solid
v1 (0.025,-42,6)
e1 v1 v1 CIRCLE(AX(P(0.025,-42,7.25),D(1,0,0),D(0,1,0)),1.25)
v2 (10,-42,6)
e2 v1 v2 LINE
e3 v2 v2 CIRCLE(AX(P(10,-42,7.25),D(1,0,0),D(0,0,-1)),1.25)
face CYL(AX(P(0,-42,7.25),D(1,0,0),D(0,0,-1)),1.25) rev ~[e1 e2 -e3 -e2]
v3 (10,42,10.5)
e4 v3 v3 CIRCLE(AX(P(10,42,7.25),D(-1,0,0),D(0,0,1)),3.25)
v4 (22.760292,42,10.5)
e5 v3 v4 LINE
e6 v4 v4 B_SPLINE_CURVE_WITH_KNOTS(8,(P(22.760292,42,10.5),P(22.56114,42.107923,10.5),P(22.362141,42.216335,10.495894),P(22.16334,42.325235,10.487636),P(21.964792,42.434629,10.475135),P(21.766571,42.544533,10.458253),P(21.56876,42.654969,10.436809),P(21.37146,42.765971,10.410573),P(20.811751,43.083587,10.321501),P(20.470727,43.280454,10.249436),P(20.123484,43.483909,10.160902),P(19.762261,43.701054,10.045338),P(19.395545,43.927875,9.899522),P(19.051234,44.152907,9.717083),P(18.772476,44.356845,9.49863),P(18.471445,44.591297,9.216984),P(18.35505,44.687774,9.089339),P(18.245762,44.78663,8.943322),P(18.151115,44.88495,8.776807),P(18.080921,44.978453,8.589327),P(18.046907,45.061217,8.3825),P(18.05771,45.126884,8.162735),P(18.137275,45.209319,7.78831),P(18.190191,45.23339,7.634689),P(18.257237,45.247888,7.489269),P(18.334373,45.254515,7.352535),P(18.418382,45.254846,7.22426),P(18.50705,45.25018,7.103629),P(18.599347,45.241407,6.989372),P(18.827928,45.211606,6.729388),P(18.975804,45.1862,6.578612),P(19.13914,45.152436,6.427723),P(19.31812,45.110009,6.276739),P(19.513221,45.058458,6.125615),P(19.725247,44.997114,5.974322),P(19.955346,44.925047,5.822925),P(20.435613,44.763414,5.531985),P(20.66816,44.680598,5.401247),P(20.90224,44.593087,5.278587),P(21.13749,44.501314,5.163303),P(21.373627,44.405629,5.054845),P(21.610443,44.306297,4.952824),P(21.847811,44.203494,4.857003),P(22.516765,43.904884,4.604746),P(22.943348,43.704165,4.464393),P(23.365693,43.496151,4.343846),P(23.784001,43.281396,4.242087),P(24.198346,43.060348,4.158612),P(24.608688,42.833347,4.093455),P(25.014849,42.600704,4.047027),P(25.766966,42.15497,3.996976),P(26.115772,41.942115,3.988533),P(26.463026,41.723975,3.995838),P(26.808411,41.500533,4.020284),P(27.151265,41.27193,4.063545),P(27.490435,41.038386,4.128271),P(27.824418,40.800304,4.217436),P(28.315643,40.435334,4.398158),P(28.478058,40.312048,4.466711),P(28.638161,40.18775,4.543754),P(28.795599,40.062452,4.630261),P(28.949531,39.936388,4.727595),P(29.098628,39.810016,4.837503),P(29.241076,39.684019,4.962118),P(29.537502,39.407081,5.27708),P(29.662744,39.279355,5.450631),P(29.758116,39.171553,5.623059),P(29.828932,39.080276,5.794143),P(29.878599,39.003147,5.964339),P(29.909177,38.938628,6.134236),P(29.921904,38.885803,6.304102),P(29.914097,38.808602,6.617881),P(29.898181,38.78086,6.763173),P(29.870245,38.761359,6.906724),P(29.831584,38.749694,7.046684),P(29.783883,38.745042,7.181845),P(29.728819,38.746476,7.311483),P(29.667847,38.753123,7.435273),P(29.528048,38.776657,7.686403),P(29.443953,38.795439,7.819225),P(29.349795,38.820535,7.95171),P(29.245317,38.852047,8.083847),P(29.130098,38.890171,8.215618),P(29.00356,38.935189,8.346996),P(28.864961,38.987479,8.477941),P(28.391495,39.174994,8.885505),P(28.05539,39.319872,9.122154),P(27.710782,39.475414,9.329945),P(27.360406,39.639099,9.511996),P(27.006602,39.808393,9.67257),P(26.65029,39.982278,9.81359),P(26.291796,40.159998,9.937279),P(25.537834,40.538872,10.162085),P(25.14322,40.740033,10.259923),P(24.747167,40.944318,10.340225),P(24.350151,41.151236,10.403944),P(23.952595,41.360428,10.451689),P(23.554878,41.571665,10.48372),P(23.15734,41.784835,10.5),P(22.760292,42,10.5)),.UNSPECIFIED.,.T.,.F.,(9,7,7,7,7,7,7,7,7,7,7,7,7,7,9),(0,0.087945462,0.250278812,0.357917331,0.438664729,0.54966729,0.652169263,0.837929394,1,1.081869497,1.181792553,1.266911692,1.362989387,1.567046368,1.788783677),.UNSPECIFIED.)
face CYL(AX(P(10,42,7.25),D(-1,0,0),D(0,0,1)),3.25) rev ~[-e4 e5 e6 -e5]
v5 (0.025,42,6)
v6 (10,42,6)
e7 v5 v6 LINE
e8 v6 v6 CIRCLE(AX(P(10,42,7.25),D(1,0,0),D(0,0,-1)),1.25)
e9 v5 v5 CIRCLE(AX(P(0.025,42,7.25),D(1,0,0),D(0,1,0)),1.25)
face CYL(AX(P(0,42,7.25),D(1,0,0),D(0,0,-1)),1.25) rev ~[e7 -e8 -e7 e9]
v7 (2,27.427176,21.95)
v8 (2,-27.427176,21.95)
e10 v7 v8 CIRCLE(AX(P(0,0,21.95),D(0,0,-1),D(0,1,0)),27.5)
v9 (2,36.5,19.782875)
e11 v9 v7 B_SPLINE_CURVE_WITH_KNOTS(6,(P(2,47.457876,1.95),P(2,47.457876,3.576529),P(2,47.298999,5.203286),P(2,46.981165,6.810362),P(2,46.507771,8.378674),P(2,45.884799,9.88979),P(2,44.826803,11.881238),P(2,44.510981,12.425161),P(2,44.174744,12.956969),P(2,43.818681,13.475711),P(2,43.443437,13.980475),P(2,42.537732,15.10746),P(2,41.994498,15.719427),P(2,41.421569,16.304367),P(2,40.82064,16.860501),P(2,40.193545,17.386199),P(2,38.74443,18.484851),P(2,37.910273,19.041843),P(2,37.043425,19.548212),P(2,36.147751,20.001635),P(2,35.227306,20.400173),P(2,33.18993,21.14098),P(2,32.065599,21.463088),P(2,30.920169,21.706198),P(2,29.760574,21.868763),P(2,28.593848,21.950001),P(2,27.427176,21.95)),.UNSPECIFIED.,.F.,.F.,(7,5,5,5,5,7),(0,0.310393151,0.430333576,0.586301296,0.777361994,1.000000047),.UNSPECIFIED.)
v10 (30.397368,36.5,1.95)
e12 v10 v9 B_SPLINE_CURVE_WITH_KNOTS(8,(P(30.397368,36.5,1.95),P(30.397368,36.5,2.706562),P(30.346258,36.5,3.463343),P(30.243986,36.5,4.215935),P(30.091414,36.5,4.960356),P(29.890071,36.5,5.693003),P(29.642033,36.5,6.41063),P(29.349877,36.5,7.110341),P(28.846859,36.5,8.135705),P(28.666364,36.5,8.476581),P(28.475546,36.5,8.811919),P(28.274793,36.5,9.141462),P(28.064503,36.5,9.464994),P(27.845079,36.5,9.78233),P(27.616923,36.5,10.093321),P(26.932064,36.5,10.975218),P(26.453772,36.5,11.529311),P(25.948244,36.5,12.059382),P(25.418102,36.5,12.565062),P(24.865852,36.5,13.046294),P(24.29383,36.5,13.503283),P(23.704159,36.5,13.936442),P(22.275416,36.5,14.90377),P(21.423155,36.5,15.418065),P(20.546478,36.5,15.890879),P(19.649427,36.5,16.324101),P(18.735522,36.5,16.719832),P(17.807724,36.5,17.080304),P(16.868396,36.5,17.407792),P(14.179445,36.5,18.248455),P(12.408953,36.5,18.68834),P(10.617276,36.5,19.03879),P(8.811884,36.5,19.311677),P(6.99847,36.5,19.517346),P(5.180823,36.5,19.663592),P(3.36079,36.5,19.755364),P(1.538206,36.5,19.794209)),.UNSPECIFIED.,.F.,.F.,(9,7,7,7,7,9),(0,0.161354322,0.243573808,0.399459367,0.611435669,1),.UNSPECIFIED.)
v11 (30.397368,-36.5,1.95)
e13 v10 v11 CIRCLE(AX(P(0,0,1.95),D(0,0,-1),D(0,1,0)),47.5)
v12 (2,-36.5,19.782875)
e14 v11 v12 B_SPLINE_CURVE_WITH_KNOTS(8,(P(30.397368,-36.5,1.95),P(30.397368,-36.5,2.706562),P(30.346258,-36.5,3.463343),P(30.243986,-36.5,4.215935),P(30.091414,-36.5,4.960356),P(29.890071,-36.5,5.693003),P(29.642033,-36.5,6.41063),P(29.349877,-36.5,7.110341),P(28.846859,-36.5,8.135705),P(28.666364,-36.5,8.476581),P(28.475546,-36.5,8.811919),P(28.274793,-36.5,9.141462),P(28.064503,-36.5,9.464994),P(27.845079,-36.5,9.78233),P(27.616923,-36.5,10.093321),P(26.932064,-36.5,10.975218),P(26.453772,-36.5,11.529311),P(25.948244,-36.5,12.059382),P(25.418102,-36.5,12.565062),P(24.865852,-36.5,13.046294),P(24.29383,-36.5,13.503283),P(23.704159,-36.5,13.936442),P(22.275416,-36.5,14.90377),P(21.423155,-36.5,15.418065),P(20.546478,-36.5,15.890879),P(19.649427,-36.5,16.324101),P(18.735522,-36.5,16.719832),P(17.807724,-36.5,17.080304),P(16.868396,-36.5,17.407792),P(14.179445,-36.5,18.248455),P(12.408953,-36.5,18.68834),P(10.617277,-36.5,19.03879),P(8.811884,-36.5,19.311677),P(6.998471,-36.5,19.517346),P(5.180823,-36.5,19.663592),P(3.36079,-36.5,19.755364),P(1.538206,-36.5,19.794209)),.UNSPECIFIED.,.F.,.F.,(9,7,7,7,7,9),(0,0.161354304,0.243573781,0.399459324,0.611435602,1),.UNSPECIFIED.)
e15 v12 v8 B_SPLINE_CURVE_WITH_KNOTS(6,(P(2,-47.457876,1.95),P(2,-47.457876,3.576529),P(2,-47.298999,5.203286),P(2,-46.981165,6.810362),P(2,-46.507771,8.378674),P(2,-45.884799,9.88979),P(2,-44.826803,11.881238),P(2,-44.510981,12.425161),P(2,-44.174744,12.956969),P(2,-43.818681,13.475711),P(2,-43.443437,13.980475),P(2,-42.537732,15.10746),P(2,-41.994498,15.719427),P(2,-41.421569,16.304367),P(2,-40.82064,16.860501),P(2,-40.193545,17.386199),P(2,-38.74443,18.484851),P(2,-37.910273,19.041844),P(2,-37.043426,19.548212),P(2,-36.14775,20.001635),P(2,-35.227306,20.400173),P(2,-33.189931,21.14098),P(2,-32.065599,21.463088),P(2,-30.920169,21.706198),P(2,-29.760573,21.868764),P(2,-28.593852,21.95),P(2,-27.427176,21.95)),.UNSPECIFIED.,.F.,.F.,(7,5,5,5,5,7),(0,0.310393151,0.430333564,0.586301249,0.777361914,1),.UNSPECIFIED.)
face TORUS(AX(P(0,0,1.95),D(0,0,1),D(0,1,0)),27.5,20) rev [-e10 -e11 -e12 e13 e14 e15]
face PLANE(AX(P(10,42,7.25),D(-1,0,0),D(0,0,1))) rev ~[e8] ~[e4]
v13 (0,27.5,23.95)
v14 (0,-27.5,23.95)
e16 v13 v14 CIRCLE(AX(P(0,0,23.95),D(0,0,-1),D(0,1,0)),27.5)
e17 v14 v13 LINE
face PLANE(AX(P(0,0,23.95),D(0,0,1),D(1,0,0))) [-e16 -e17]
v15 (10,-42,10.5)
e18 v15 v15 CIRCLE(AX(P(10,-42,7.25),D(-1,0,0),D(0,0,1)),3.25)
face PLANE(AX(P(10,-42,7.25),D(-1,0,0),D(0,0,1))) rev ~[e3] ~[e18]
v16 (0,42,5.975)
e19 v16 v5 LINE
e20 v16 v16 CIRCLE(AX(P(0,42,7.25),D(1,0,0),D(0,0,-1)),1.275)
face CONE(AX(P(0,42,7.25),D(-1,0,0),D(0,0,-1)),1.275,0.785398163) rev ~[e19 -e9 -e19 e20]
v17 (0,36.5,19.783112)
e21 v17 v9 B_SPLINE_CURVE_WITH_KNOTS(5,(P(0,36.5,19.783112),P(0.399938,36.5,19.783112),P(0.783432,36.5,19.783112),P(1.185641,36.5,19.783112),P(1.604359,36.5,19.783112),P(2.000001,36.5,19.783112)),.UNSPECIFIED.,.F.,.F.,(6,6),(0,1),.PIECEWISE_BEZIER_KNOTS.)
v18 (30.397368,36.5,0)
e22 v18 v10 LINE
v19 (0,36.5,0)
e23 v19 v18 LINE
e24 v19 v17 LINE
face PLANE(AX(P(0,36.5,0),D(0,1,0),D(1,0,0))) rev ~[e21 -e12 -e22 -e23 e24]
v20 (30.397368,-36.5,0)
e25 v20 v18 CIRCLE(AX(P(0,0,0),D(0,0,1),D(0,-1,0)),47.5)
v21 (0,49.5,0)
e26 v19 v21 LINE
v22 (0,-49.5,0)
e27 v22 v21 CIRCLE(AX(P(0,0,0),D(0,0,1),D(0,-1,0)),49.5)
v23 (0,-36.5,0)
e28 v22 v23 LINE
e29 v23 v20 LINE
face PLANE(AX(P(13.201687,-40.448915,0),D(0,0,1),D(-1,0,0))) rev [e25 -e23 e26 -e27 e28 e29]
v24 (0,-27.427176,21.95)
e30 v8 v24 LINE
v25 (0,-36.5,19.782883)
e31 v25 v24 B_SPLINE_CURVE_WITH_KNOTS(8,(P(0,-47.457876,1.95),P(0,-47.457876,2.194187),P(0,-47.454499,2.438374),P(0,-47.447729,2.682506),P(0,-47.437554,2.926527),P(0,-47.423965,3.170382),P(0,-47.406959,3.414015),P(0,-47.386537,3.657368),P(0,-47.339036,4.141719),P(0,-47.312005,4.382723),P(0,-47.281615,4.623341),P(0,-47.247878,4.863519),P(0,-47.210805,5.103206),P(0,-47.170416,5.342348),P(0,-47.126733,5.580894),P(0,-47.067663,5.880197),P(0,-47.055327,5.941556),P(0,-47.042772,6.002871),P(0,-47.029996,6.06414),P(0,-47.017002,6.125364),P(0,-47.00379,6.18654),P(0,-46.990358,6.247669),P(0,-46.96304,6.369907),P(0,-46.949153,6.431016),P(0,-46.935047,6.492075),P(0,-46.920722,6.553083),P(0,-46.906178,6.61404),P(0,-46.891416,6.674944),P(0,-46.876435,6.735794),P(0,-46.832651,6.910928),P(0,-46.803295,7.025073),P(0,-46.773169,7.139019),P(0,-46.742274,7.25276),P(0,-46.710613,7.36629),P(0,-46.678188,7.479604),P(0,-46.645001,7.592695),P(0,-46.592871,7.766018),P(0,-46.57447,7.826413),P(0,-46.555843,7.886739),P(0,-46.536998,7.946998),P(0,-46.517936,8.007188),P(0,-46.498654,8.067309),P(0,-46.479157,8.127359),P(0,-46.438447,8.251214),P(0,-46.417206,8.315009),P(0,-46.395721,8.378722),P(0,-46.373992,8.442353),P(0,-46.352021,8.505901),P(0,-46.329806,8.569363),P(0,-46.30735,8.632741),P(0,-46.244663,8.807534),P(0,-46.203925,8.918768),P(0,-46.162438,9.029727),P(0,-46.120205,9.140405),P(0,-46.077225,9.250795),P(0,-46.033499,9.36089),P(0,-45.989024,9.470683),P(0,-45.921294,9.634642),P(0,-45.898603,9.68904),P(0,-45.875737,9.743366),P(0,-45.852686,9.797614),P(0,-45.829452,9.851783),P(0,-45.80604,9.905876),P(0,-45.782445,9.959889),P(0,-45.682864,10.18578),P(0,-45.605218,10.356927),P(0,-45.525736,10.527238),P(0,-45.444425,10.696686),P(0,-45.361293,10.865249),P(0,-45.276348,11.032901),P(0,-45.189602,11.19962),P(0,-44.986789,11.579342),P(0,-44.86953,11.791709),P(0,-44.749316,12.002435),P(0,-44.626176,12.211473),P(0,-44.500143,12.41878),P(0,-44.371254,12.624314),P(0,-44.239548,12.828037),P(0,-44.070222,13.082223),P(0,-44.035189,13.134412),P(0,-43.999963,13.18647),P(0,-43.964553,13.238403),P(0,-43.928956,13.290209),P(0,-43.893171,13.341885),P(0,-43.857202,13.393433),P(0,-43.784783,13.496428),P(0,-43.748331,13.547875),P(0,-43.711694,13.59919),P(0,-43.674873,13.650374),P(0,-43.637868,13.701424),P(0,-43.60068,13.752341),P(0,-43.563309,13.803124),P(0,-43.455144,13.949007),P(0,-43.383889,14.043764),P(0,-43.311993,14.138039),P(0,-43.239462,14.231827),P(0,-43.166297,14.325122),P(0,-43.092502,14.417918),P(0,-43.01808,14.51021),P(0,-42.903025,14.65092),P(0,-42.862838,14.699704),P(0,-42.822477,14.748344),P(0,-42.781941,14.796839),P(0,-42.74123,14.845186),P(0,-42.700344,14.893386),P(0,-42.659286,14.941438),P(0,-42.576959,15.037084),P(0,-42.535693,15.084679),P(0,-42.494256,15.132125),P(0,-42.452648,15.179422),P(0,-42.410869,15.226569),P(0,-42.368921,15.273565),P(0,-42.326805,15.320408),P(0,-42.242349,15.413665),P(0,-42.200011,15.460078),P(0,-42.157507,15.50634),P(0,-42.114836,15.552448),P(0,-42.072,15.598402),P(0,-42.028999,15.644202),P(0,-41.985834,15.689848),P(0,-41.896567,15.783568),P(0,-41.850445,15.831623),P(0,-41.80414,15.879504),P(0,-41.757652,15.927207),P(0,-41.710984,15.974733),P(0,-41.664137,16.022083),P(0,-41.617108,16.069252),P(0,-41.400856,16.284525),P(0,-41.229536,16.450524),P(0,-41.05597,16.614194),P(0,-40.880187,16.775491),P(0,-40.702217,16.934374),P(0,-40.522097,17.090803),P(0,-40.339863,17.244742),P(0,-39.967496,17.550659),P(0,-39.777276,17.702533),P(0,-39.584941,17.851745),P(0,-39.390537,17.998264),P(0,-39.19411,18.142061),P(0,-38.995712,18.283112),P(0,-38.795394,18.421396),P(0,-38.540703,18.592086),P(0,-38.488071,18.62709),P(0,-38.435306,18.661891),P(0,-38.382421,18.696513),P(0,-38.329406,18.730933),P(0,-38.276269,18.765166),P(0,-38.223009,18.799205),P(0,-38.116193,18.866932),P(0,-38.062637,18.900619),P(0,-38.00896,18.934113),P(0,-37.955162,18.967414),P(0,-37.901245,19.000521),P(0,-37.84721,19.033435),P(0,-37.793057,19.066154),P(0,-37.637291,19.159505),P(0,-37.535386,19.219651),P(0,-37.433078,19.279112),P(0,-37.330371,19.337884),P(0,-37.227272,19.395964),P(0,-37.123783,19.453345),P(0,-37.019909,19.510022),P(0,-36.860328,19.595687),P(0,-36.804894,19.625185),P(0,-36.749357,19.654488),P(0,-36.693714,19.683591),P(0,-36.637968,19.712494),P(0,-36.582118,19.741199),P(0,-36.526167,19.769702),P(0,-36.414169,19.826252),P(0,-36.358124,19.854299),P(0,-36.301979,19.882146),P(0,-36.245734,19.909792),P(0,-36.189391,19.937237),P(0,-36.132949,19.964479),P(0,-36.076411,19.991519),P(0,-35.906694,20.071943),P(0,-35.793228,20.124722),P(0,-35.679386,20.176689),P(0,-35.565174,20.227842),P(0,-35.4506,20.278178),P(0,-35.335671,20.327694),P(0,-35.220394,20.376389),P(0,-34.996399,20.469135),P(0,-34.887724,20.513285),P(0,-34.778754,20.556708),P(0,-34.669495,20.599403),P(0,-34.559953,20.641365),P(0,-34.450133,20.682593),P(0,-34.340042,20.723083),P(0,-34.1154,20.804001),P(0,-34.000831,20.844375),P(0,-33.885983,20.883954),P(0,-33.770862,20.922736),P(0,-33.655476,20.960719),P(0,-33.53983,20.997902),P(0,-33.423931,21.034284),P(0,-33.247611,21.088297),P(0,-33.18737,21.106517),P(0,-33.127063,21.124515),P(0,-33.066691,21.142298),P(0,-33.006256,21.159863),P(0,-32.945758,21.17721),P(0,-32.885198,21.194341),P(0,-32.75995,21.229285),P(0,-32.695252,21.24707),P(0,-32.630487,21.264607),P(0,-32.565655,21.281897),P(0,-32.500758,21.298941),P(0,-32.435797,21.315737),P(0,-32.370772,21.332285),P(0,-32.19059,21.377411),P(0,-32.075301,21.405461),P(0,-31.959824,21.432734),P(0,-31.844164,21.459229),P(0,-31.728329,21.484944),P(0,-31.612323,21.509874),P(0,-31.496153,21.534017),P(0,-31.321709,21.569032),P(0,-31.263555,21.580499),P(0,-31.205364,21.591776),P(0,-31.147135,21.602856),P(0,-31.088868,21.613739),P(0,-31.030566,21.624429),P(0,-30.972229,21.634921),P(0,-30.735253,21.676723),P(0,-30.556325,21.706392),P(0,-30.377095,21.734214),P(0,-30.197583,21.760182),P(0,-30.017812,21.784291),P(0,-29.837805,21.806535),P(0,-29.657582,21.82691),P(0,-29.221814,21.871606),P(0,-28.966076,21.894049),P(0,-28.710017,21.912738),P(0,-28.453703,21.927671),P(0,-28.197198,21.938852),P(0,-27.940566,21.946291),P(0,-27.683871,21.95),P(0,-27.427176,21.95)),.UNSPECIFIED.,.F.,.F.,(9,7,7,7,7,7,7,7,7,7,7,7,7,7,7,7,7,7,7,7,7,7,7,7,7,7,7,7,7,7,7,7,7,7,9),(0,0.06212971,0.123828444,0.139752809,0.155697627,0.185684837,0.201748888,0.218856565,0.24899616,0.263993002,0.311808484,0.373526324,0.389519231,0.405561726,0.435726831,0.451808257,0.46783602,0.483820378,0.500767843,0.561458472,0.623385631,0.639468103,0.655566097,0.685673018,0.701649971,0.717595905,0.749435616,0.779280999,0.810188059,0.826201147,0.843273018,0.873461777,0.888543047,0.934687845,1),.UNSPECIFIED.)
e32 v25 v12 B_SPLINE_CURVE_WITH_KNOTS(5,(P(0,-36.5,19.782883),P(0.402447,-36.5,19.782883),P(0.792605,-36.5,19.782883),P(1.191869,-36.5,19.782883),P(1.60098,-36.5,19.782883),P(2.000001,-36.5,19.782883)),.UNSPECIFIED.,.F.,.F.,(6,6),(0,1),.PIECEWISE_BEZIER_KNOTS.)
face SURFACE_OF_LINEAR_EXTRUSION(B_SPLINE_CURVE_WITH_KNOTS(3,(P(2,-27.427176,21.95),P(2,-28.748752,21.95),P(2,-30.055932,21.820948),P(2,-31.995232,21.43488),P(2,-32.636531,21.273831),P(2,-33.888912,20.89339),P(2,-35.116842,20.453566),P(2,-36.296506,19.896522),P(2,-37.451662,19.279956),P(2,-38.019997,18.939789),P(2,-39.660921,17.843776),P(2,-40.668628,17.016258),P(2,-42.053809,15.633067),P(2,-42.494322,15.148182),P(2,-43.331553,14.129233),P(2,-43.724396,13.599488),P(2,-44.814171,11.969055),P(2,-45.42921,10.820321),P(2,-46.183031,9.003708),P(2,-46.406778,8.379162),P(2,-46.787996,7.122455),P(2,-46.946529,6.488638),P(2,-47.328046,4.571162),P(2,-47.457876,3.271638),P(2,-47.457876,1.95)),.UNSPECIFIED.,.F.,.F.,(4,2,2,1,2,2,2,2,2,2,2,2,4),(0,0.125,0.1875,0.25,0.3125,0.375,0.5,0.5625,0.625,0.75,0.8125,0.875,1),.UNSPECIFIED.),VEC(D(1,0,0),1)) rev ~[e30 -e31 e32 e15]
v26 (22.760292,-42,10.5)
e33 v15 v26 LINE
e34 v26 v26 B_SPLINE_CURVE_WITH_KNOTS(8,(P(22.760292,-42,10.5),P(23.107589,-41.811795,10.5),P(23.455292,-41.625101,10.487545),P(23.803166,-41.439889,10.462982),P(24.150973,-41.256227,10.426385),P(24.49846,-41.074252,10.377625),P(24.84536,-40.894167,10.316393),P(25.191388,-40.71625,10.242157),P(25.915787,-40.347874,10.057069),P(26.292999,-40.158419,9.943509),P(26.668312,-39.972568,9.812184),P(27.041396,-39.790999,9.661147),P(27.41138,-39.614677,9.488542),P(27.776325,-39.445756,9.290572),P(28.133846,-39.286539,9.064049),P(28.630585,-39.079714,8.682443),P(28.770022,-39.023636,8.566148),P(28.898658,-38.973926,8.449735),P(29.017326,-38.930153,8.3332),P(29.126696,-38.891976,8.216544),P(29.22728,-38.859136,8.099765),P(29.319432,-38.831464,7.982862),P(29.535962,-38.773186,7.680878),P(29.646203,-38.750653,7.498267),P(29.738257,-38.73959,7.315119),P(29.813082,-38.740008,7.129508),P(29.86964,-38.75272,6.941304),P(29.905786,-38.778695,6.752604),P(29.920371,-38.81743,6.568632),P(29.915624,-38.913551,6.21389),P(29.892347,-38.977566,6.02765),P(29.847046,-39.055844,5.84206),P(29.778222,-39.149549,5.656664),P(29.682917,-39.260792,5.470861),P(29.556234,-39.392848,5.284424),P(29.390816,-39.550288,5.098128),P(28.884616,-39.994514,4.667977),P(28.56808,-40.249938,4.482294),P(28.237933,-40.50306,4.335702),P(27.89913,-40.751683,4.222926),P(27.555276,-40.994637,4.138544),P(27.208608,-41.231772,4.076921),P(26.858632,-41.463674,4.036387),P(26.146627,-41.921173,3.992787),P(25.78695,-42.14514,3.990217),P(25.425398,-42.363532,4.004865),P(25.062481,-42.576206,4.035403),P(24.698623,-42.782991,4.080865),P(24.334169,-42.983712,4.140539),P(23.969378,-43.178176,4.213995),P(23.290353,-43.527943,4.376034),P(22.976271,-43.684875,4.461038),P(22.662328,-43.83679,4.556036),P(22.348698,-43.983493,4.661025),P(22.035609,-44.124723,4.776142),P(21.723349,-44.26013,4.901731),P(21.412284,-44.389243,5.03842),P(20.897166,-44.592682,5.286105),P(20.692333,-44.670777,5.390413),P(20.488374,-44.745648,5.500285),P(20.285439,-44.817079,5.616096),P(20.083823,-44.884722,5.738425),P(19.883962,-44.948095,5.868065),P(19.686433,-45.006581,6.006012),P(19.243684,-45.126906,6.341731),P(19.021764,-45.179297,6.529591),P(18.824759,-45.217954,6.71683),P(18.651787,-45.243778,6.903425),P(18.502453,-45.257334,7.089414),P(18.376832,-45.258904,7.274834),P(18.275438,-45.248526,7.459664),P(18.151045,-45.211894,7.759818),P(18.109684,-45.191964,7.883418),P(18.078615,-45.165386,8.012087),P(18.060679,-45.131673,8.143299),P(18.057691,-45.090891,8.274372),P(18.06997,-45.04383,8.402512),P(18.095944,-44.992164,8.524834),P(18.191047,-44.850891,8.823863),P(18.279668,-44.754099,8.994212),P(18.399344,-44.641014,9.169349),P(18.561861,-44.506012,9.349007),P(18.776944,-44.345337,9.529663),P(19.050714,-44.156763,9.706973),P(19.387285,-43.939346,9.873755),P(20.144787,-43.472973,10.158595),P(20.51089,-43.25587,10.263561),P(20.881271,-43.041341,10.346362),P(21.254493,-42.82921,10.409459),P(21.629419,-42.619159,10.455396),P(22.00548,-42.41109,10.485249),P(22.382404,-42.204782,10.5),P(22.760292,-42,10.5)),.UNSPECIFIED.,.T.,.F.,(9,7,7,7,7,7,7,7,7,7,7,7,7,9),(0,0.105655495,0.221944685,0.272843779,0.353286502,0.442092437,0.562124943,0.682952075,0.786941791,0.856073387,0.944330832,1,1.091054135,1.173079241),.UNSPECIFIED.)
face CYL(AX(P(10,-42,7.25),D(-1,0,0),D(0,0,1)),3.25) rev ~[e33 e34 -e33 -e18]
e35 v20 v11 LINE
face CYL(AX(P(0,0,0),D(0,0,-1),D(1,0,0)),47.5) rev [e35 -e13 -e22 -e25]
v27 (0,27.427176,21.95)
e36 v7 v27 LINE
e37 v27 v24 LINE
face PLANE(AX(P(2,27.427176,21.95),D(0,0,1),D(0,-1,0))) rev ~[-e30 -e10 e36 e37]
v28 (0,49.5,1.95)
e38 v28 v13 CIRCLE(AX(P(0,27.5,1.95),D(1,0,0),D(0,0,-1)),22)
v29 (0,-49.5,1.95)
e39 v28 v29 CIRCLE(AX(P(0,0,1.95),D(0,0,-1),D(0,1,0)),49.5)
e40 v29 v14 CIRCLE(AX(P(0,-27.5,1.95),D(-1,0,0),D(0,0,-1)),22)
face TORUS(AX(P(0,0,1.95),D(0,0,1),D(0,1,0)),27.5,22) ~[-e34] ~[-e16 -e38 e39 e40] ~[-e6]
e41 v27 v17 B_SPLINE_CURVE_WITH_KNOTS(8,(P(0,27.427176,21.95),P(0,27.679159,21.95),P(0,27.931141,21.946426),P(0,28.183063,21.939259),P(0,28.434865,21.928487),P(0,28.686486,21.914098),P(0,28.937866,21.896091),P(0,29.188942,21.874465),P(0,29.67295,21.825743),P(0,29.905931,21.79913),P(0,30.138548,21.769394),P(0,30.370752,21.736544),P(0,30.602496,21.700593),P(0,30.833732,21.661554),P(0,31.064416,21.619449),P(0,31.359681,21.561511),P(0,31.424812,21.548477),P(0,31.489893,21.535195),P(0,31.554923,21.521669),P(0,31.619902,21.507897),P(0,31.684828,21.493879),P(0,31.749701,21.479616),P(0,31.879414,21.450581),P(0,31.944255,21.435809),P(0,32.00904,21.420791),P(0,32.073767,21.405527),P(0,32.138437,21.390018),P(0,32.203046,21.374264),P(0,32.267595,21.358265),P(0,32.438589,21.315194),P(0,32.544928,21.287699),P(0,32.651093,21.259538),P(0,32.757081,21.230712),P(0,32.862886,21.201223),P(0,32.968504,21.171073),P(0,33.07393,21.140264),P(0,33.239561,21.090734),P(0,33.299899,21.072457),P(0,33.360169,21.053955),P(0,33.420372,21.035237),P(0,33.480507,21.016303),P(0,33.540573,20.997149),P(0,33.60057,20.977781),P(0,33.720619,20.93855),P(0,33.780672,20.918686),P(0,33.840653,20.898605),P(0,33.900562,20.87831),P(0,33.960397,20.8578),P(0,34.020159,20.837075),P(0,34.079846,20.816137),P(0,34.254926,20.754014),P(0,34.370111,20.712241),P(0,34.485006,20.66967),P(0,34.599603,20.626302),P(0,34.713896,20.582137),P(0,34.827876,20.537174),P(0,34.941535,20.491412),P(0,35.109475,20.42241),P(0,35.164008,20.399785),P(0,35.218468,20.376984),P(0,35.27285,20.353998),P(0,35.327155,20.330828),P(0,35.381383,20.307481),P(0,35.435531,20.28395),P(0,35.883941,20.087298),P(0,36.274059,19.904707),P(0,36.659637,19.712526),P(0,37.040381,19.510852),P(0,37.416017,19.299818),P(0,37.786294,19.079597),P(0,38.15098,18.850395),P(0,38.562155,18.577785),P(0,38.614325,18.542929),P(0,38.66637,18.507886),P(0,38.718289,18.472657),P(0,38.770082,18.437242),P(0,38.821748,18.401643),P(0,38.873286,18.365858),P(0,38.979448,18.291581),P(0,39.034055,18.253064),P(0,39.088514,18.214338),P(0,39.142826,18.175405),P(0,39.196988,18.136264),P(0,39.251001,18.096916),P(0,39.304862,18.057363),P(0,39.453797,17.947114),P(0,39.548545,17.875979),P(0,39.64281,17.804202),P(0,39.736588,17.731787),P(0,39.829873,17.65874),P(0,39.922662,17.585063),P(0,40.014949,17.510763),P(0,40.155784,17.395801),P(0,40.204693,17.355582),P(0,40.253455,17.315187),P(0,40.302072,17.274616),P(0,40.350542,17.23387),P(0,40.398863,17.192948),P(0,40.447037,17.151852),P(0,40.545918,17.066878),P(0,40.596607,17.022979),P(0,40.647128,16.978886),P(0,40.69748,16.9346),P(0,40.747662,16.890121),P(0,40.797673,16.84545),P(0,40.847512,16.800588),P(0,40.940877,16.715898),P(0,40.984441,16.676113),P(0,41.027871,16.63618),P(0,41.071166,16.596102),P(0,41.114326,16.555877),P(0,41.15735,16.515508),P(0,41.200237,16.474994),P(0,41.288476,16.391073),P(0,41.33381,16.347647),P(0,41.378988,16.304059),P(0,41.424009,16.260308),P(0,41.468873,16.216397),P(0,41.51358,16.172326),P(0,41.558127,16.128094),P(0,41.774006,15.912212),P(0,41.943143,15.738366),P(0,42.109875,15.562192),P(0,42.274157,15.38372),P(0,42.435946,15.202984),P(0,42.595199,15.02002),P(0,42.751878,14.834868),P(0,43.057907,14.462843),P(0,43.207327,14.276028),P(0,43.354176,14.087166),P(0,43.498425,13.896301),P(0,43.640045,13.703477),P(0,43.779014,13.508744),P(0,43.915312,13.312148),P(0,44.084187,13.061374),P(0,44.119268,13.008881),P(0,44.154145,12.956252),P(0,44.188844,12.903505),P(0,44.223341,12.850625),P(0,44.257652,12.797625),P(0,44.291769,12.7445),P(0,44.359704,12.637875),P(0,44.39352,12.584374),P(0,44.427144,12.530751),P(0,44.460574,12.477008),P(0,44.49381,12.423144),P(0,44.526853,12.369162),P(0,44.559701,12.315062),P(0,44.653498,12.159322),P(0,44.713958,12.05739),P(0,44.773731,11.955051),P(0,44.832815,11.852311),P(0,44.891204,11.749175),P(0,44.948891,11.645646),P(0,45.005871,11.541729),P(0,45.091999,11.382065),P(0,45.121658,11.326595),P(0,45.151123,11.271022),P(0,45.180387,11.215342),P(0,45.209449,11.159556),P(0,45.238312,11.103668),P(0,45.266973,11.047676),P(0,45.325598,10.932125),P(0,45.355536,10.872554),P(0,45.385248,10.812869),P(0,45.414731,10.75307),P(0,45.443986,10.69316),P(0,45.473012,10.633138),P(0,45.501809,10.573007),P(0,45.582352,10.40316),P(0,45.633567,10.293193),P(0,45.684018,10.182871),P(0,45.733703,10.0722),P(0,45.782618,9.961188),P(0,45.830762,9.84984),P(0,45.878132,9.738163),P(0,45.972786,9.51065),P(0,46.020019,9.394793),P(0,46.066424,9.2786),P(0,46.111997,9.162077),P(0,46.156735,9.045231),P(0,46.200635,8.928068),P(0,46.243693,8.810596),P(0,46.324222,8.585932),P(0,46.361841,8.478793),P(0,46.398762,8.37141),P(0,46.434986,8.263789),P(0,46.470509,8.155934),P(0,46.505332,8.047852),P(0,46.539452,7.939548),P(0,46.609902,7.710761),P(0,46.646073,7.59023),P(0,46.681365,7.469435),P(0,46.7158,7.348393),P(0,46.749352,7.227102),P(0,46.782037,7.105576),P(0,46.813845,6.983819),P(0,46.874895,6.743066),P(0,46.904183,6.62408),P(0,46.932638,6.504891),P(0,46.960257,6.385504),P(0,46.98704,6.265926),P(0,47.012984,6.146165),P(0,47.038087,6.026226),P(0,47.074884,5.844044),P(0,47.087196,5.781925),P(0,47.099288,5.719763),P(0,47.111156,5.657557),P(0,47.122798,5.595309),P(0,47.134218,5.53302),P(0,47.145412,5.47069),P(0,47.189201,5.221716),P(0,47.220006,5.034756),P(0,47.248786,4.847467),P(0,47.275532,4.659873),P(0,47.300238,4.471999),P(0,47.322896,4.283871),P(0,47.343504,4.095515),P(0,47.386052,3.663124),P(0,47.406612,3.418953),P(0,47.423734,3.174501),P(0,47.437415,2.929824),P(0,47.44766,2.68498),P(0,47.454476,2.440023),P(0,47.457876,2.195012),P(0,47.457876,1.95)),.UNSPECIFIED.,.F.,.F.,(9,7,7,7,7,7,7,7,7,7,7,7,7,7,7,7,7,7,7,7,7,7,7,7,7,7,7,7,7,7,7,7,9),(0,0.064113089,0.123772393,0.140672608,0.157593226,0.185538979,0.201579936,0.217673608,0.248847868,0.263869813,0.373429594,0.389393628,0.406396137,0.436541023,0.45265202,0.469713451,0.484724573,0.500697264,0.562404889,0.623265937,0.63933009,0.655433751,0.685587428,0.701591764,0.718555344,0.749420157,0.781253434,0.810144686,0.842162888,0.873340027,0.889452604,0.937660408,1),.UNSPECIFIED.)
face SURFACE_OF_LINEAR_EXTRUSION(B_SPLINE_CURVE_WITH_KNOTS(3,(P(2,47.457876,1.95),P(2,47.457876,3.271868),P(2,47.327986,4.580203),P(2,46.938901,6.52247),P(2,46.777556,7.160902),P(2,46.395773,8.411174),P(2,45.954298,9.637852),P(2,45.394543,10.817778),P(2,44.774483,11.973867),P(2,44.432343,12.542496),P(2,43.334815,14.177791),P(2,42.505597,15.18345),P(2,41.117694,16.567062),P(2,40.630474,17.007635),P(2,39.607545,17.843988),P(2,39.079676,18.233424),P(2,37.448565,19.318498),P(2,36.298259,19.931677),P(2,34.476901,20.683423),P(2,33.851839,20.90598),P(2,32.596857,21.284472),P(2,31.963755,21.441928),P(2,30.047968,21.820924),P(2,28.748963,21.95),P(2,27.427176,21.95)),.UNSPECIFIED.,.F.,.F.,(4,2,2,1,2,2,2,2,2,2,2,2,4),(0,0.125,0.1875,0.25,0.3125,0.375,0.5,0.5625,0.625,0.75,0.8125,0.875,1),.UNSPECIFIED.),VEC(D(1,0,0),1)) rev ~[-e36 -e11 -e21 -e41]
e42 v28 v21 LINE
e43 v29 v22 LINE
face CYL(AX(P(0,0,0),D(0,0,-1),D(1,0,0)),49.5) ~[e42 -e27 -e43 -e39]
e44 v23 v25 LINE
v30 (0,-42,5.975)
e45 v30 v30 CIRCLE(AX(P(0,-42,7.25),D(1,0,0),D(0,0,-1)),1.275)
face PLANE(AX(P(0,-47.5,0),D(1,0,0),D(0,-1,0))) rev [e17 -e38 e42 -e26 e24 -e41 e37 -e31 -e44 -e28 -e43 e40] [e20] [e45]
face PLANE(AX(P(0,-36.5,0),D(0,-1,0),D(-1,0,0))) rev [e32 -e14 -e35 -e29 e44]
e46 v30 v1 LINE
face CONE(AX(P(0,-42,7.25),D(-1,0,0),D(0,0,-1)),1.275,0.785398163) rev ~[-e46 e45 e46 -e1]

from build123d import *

# Parameters (mm, degrees)
SKETCH_1_R                     = 49.5
EXTRUDE_1_DEPTH                = 23.95
CUT_EXTRUDE_1_REACH            = 75.987
SKETCH_2_W                     = 51.856446696
SKETCH_2_H                     = 105.629558774
FILLET_1_R                     = 22
SHELL_1_T                      = -2
CUT_EXTRUDE_2_REACH            = 74.664
EXTRUDE_2_REACH                = 75.987
HOLE_WIZARD_M3_1_D             = 2.5
HOLE_WIZARD_M3_1_CSINK_D       = 2.55
HOLE_WIZARD_M3_1_CSINK_ANGLE   = 90
CUT_EXTRUDE_3_REACH            = 85.987
CUT_EXTRUDE_3_END_MAJOR_RADIUS = 27.5
CUT_EXTRUDE_3_END_MINOR_RADIUS = 22
CUT_EXTRUDE_START              = -10
SKETCH_9_R                     = 3.25


with BuildPart() as part:
    # 草图1 → 凸台-拉伸1 (new body)
    with BuildSketch(Plane.XY):
        Circle(SKETCH_1_R)
    extrude(amount=EXTRUDE_1_DEPTH)

    # 草图2 → 切除-拉伸1 (cut, up to next)
    with BuildSketch(Plane.XY, mode=Mode.PRIVATE) as cut_extrude_1_sk1:
        with Locations((-25.928223348, -1.331017626)):
            Rectangle(SKETCH_2_W, SKETCH_2_H)
    cut_extrude_1_tool1 = extrude(cut_extrude_1_sk1.sketch, amount=CUT_EXTRUDE_1_REACH, mode=Mode.PRIVATE) & part.part
    add(cut_extrude_1_tool1.solids().sort_by_distance((-25.928223, -1.331018, 0))[0], mode=Mode.SUBTRACT)

    # 圆角1
    fillet_1_edges = [part.edges().sort_by_distance(p)[0] for p in [
        (49.5, 0, 23.95),
    ]]
    fillet(fillet_1_edges, radius=FILLET_1_R)

    # 抽壳1
    shell_1_openings = [part.faces().sort_by_distance(p)[0] for p in [
        (21.008452488, 0, 0),
    ]]
    offset(amount=SHELL_1_T, openings=shell_1_openings)

    # 草图3 → 切除-拉伸2 (cut, up to next)
    with BuildSketch(Plane(origin=(2, 0, 0), x_dir=(0, 0, -1), z_dir=(1, 0, 0)), mode=Mode.PRIVATE) as cut_extrude_2_sk1:
        with BuildLine():
            Line((0, -47.457876059), (0, 47.457876059))
            Line((0, 47.457876059), (-1.95, 47.457876059))
            add(Edge.make_bspline(
                [(-1.95, 47.457876059), (-3.271867558, 47.457876059), (-4.580203295, 47.327986162), (-6.522470102, 46.938901335), (-7.160902253, 46.77755623), (-8.411173988, 46.395772827), (-9.637851686, 45.954297745), (-10.817777712, 45.394543369), (-11.973866888, 44.77448301), (-12.542496397, 44.432343138), (-14.177790511, 43.334814725), (-15.183450399, 42.505596807), (-16.567061926, 41.11769353), (-17.007634716, 40.630474323), (-17.843988232, 39.607544633), (-18.233424143, 39.079675999), (-19.318498452, 37.448564759), (-19.931677485, 36.298258611), (-20.683423408, 34.476900758), (-20.905979728, 33.851839293), (-21.284471808, 32.596856934), (-21.441928362, 31.963754853), (-21.820924381, 30.047967998), (-21.95, 28.748963189), (-21.95, 27.427176304)],
                knots=[0, 0, 0, 0, 0.125, 0.125, 0.1875, 0.1875, 0.25, 0.3125, 0.3125, 0.375, 0.375, 0.5, 0.5, 0.5625, 0.5625, 0.625, 0.625, 0.75, 0.75, 0.8125, 0.8125, 0.875, 0.875, 1, 1, 1, 1], degree=3))
            Line((-21.95, 27.427176304), (-21.95, -27.427176304))
            add(Edge.make_bspline(
                [(-21.95, -27.427176304), (-21.95, -28.748751501), (-21.820948006, -30.055931988), (-21.434879621, -31.995231967), (-21.273831263, -32.636531268), (-20.893390258, -33.888912081), (-20.453566277, -35.116841913), (-19.896522444, -36.29650639), (-19.279955682, -37.451662261), (-18.939789489, -38.019997246), (-17.843776455, -39.660921393), (-17.016258232, -40.668628413), (-15.633066823, -42.053808837), (-15.148182071, -42.494322146), (-14.129233176, -43.331552566), (-13.599488217, -43.724395897), (-11.969055187, -44.81417128), (-10.820320521, -45.429209656), (-9.003708201, -46.18303121), (-8.379162057, -46.406777614), (-7.12245463, -46.787996047), (-6.488637543, -46.946528678), (-4.571162151, -47.328045624), (-3.271637617, -47.457876059), (-1.95, -47.457876059)],
                knots=[0, 0, 0, 0, 0.125, 0.125, 0.1875, 0.1875, 0.25, 0.3125, 0.3125, 0.375, 0.375, 0.5, 0.5, 0.5625, 0.5625, 0.625, 0.625, 0.75, 0.75, 0.8125, 0.8125, 0.875, 0.875, 1, 1, 1, 1], degree=3))
            Line((-1.95, -47.457876059), (0, -47.457876059))
        make_face()
    cut_extrude_2_tool1 = extrude(cut_extrude_2_sk1.sketch, amount=-CUT_EXTRUDE_2_REACH, mode=Mode.PRIVATE) & part.part
    add(cut_extrude_2_tool1.solids().sort_by_distance((2, -4e-06, 10.389853))[0], mode=Mode.SUBTRACT)

    # 草图4 → 凸台-拉伸2 (add, up to next)
    with BuildSketch(Plane(origin=(0, 0, 0), x_dir=(-1, 0, 0), z_dir=(0, 0, -1)), mode=Mode.PRIVATE) as extrude_2_sk1:
        with BuildLine():
            Line((0, 36.5), (-30.397368307, 36.5))
            ThreePointArc((-30.397368307, 36.5), (-16.163229875, 44.665422868), (0, 47.5))
            Line((0, 47.5), (0, 36.5))
        make_face()
    extrude_2_tool1 = extrude(extrude_2_sk1.sketch, amount=-EXTRUDE_2_REACH, mode=Mode.PRIVATE) - part.part
    extrude_2 = extrude_2_tool1.solids().sort_by_distance((11.598273, 40.946819, 0))[0]
    add(extrude_2)

    # 镜向1: 凸台-拉伸2 mirrored; each copy of 凸台-拉伸2 runs up to whatever stops it at its own place
    mirror_1_before = part.part  # the part as the pattern finds it: every copy runs up to it
    mirror_1_extrude_2_long = extrude(extrude_2_sk1.sketch, amount=-EXTRUDE_2_REACH, mode=Mode.PRIVATE)
    mirror_1_extrude_2_tool1 = mirror_1_extrude_2_long.mirror(Plane.ZX) - mirror_1_before
    add(mirror_1_extrude_2_tool1.solids().sort_by_distance((11.598273, -40.946819, 0))[0])

    # M3 螺纹孔的螺纹孔钻头1 (through all)
    with Locations(Plane.ZY):
        with Locations((7.25, 42), (7.25, -42)):
            CounterSinkHole(HOLE_WIZARD_M3_1_D / 2, HOLE_WIZARD_M3_1_CSINK_D / 2, counter_sink_angle=HOLE_WIZARD_M3_1_CSINK_ANGLE)

    # 切除-拉伸3: up to this torus (the profile starts inside it)
    cut_extrude_3_end = Plane(origin=(0, 0, 1.95), z_dir=(0, 0, 1)) * Torus(CUT_EXTRUDE_3_END_MAJOR_RADIUS, CUT_EXTRUDE_3_END_MINOR_RADIUS, mode=Mode.PRIVATE)
    # 草图9 → 切除-拉伸3 (cut, up to the surface)
    with BuildSketch(Plane.ZY.offset(CUT_EXTRUDE_START), mode=Mode.PRIVATE) as cut_extrude_3_sk1:
        with Locations((7.25, 42)):
            Circle(SKETCH_9_R)
    cut_extrude_3_tool1 = extrude(cut_extrude_3_sk1.sketch, amount=-CUT_EXTRUDE_3_REACH, mode=Mode.PRIVATE) & cut_extrude_3_end
    add(cut_extrude_3_tool1.solids().sort_by_distance((10, 42, 7.25))[0], mode=Mode.SUBTRACT)
    # 草图9 → 切除-拉伸3 (cut, up to the surface)
    with BuildSketch(Plane.ZY.offset(CUT_EXTRUDE_START), mode=Mode.PRIVATE) as cut_extrude_3_sk2:
        with Locations((7.25, -42)):
            Circle(SKETCH_9_R)
    cut_extrude_3_tool2 = extrude(cut_extrude_3_sk2.sketch, amount=-CUT_EXTRUDE_3_REACH, mode=Mode.PRIVATE) & cut_extrude_3_end
    add(cut_extrude_3_tool2.solids().sort_by_distance((10, -42, 7.25))[0], mode=Mode.SUBTRACT)


solid = part.part
